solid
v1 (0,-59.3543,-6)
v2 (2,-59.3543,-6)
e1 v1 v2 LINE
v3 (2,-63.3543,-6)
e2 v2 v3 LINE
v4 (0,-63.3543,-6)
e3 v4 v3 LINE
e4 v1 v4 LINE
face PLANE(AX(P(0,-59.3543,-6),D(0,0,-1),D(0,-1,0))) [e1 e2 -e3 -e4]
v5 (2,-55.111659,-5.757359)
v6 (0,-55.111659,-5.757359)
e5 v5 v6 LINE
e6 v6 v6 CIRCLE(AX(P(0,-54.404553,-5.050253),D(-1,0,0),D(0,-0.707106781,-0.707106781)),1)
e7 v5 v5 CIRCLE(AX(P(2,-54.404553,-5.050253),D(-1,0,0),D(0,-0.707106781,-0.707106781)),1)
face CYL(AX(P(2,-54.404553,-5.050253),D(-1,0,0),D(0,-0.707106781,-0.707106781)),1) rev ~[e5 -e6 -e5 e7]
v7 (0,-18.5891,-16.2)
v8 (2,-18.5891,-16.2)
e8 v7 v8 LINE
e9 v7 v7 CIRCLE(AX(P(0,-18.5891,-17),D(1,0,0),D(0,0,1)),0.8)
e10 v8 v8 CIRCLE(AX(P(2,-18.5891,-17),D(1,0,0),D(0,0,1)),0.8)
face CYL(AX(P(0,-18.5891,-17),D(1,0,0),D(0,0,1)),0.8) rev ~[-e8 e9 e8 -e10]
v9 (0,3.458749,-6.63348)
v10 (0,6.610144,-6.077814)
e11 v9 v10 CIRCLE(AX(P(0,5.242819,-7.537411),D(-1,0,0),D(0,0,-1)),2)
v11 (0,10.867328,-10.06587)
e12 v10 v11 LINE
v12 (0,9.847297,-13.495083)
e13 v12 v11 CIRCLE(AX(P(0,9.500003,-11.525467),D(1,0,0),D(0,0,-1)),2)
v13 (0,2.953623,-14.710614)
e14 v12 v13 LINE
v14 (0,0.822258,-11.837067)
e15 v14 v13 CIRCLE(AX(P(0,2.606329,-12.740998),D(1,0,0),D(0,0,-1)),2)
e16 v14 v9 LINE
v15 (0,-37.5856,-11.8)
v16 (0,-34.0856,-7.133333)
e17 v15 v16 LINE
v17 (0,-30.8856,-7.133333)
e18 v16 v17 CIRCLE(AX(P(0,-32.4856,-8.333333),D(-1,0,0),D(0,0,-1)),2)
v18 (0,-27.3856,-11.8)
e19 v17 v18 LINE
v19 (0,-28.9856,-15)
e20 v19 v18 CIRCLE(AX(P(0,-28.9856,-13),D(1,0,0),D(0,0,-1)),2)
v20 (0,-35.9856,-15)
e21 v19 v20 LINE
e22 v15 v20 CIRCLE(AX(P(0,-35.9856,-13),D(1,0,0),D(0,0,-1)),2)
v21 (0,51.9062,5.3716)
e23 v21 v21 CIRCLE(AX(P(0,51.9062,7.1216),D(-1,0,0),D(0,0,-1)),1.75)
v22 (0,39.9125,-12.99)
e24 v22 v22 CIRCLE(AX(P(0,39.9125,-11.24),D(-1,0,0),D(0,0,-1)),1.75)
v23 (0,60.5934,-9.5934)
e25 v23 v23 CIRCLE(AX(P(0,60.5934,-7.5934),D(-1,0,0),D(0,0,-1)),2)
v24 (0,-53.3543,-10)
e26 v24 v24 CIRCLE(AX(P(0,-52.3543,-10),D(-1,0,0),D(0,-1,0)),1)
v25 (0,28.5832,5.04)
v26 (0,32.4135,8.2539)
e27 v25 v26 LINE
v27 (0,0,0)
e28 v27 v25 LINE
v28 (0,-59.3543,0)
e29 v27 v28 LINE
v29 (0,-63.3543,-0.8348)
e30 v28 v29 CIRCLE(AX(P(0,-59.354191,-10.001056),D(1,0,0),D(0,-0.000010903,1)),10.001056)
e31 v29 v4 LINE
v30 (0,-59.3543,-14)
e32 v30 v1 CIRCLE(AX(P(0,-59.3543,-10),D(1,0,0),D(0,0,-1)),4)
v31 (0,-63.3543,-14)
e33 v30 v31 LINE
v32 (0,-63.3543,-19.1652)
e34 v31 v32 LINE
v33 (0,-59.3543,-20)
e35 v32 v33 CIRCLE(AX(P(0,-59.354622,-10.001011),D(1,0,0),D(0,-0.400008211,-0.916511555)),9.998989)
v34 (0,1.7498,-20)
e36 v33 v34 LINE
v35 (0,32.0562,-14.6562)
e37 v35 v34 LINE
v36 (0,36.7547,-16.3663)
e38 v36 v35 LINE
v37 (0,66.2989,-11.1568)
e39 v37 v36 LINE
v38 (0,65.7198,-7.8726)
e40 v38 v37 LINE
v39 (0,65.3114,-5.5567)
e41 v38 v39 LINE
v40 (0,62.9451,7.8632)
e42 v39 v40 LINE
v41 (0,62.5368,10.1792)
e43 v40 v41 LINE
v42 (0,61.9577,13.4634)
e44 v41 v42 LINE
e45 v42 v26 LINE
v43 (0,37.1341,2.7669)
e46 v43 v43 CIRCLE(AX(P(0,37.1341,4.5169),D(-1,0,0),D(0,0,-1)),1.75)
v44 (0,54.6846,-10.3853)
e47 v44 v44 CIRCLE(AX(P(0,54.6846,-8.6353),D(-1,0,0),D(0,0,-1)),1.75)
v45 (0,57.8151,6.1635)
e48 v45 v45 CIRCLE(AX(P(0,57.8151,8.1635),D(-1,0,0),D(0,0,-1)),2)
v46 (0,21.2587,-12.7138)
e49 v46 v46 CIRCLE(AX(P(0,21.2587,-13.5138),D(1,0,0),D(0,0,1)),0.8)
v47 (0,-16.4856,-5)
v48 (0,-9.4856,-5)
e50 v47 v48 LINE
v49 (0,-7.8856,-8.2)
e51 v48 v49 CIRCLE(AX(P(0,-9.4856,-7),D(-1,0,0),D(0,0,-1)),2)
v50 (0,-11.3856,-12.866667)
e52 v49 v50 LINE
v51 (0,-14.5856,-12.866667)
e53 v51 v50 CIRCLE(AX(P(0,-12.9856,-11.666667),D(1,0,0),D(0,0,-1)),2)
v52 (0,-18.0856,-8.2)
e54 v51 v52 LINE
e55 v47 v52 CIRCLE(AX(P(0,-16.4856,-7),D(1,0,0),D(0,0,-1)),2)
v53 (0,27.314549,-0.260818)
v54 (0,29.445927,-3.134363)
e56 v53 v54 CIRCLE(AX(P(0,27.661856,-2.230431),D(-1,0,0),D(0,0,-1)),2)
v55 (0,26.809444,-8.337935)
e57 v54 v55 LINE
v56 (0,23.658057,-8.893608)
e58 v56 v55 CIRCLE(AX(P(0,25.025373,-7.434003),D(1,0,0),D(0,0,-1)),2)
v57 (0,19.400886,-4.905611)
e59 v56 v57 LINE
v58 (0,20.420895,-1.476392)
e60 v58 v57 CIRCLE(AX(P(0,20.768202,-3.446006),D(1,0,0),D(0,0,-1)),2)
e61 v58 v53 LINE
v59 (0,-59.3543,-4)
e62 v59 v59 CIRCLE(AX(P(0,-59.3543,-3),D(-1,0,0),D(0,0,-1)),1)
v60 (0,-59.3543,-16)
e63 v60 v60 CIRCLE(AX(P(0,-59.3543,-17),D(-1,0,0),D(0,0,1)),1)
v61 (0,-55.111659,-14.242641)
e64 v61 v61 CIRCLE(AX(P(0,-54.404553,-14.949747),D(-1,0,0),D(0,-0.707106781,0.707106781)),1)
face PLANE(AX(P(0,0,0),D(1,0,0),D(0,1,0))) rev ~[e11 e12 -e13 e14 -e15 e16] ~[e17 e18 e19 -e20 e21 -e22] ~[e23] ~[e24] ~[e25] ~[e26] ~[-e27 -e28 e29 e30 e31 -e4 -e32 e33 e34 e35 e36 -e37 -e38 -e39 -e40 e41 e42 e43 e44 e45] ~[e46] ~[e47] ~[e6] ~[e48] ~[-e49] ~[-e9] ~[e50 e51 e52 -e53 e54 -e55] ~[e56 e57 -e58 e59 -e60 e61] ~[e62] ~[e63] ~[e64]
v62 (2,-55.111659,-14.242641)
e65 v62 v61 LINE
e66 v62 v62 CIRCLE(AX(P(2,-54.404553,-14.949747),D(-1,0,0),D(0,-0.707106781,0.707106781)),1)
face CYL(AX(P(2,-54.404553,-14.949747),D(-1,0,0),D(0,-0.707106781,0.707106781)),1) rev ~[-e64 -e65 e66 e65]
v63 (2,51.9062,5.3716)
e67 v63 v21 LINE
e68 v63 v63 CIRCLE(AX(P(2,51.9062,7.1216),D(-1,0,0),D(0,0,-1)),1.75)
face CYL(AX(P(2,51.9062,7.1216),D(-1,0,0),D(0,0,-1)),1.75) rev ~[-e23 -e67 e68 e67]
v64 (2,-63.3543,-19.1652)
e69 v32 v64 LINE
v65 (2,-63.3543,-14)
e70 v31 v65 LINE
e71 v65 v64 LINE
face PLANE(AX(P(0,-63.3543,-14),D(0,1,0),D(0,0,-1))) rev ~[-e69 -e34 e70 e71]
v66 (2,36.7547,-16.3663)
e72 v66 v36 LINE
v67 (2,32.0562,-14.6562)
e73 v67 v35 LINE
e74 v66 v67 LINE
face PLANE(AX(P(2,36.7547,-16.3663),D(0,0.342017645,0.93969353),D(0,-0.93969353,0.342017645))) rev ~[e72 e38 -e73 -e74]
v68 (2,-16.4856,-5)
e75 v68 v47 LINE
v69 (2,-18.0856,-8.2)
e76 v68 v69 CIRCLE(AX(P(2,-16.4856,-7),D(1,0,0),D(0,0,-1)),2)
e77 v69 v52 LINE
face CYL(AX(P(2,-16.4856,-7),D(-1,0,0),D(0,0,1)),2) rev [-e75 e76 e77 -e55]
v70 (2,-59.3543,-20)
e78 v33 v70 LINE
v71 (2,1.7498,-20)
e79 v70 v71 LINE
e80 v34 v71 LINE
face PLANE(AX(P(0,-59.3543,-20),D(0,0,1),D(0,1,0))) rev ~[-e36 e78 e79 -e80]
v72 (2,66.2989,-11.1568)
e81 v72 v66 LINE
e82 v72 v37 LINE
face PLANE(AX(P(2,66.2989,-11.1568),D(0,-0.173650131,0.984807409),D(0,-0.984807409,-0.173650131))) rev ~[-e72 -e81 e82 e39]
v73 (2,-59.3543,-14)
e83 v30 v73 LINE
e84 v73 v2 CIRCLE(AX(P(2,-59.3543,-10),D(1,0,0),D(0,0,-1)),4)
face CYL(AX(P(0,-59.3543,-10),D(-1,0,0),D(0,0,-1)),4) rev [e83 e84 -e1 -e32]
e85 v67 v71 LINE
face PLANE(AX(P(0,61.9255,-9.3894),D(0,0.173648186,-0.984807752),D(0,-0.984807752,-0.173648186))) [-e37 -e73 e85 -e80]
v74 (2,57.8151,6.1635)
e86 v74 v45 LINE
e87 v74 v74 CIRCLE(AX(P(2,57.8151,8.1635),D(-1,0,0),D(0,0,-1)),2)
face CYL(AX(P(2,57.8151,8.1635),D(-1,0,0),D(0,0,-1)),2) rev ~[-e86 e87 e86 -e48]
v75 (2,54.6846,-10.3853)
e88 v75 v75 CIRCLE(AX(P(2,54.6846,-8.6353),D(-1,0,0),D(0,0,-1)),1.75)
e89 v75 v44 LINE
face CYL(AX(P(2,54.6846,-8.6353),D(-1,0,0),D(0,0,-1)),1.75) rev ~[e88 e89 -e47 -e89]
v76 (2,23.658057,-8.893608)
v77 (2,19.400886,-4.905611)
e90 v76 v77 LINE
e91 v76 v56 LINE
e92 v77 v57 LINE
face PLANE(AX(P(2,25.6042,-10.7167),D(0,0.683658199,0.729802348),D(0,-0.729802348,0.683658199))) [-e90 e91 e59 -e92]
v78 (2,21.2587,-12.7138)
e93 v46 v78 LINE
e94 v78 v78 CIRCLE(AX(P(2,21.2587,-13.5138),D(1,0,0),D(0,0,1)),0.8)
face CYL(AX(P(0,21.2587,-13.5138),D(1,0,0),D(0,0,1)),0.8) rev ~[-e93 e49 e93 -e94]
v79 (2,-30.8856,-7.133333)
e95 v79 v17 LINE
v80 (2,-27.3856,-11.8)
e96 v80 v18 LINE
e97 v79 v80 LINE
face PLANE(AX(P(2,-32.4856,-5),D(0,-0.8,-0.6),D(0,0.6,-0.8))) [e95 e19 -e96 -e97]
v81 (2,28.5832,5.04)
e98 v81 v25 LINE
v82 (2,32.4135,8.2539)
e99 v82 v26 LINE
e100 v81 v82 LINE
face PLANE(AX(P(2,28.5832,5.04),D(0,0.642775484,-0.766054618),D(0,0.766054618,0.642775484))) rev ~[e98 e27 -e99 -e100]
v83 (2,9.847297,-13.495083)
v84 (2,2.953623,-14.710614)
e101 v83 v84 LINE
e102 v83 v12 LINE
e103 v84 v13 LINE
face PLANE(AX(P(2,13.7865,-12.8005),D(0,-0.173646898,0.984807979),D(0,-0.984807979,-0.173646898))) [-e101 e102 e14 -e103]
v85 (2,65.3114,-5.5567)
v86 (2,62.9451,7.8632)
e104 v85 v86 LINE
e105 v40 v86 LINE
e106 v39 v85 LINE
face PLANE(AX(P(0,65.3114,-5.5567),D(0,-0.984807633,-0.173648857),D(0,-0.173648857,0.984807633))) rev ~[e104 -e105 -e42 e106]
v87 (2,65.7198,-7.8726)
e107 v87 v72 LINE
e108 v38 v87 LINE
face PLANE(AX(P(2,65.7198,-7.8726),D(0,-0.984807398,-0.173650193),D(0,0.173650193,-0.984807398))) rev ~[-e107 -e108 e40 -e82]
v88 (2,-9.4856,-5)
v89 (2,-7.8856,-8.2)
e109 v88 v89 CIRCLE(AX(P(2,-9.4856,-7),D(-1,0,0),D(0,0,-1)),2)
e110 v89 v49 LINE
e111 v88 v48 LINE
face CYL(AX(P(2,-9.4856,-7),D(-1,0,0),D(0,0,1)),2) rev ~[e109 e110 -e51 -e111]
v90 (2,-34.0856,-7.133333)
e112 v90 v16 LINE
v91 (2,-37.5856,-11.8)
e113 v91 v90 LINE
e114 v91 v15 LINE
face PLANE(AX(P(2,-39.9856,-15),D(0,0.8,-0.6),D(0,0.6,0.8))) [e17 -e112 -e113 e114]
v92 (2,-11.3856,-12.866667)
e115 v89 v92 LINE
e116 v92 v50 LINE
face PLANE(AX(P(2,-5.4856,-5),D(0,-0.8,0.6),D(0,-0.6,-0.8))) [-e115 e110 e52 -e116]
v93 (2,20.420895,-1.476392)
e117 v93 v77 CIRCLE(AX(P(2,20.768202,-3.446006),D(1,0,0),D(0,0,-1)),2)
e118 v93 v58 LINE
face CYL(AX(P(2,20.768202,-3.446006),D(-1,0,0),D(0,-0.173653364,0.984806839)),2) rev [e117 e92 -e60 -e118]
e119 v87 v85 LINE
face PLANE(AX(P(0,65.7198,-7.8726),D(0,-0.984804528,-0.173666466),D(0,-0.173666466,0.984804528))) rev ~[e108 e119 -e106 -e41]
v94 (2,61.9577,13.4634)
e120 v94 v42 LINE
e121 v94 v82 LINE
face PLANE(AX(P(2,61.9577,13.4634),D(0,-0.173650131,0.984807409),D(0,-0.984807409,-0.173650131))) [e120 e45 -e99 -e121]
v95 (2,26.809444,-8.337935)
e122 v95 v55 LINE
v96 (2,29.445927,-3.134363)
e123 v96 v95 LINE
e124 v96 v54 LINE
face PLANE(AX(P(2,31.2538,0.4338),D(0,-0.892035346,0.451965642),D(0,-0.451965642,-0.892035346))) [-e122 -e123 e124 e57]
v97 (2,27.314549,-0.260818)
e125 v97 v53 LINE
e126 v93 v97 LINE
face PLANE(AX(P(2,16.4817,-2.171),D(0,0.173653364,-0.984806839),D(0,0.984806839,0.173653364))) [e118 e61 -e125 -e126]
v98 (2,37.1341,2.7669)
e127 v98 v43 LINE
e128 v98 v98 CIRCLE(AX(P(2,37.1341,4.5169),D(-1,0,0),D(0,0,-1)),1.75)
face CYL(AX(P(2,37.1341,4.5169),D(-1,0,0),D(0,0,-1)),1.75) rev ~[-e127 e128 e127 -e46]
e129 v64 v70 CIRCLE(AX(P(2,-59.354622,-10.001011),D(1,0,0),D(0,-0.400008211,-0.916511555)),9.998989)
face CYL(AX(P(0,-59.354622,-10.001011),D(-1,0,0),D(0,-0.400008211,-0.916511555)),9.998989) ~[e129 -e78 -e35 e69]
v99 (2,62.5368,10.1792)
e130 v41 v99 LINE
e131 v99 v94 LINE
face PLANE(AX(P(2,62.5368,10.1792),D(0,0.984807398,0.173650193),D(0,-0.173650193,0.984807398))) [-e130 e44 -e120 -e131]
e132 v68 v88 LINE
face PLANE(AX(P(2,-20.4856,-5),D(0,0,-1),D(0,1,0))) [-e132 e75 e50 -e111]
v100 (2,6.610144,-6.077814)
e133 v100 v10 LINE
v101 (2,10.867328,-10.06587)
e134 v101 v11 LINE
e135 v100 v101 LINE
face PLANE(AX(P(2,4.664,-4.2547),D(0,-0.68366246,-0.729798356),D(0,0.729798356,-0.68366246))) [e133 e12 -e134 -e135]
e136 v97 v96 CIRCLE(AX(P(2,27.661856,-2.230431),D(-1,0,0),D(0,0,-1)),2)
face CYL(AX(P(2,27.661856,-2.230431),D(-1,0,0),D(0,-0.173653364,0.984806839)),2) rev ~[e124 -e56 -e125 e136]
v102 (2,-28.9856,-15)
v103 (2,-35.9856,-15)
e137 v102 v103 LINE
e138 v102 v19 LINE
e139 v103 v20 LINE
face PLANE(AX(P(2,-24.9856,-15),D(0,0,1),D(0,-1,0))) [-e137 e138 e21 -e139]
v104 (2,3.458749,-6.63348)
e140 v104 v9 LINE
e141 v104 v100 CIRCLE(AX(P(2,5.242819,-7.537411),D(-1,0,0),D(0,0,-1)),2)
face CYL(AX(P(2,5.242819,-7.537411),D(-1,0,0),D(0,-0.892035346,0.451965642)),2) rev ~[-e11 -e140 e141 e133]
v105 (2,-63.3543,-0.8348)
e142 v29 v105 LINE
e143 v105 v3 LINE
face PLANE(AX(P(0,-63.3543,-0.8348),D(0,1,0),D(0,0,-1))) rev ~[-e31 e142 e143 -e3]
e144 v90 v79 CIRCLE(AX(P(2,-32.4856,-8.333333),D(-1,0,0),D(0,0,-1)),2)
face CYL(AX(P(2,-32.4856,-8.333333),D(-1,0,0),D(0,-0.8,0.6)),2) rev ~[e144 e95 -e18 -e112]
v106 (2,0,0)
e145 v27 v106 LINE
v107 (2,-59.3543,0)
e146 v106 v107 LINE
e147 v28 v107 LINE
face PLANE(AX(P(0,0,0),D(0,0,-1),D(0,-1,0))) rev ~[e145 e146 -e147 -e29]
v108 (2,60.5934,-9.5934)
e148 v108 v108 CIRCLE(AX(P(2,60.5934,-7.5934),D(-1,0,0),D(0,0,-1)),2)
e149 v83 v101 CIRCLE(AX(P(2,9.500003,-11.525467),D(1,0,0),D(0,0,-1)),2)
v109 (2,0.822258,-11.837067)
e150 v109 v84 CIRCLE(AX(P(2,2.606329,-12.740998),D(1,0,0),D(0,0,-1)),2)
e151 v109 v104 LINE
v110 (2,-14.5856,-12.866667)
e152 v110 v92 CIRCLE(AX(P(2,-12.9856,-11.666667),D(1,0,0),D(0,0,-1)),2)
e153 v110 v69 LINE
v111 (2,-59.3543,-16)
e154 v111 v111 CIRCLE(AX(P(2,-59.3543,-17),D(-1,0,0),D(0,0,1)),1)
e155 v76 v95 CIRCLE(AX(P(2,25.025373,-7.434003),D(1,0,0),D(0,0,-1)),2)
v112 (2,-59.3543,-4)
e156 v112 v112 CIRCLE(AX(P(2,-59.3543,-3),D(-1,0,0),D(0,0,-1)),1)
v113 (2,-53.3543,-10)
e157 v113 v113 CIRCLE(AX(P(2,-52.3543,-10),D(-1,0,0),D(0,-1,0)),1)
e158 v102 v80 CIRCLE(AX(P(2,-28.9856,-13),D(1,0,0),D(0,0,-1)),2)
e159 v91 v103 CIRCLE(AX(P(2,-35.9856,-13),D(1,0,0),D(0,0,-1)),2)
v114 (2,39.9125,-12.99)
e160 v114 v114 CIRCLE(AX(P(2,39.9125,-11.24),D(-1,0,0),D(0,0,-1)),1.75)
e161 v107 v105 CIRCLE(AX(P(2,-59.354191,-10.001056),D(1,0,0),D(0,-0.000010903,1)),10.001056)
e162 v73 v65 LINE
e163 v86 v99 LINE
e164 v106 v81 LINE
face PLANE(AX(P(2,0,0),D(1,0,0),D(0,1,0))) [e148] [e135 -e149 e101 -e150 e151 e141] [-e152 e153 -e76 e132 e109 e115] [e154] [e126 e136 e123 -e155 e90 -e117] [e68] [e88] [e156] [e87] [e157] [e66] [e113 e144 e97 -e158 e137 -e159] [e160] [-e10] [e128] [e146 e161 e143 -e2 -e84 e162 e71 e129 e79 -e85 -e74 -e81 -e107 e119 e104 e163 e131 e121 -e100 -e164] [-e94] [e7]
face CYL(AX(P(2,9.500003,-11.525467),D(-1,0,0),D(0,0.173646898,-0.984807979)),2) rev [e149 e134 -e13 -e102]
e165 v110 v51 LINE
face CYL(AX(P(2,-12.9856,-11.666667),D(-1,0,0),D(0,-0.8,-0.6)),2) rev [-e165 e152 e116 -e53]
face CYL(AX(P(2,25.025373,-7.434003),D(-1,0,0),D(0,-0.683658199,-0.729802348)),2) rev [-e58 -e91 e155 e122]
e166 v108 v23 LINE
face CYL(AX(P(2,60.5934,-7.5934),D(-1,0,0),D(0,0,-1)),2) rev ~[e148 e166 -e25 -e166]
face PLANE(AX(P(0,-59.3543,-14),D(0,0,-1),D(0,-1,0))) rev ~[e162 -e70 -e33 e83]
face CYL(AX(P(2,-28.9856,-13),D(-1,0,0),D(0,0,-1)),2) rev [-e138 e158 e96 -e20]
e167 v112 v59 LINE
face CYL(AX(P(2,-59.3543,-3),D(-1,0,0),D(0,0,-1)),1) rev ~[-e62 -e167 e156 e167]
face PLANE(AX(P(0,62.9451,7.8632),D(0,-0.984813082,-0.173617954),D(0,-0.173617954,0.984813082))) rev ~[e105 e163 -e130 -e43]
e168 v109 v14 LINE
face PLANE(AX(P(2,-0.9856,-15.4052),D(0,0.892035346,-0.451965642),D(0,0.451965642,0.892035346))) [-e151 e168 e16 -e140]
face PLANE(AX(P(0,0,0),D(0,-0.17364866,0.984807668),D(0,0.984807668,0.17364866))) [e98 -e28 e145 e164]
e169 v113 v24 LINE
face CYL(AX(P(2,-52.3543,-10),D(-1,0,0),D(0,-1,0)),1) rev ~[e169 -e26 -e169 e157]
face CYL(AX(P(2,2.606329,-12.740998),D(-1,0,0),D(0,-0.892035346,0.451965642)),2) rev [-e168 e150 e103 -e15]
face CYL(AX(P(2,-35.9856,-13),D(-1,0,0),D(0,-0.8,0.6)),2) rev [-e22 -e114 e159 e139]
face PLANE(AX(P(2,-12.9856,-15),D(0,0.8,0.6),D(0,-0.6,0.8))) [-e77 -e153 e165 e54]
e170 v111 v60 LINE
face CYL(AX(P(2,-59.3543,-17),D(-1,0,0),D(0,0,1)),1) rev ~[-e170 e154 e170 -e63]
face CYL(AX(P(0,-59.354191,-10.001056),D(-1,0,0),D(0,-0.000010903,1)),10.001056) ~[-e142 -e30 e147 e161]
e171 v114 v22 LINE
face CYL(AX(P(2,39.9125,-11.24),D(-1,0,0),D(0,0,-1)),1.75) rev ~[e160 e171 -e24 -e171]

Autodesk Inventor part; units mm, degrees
ref_plane "YZ Plane" through (0, 0, 0) normal (1, 0, 0) x (0, 1, 0)
ref_plane "XZ Plane" through (0, 0, 0) normal (0, 1, 0) x (-1, 0, 0)
ref_plane "XY Plane" through (0, 0, 0) normal (0, 0, 1) x (1, 0, 0)
sketch "スケッチ2" plane through (0, 0, 0) normal (1, 0, 0) x (0, 1, 0)
  line L0 (0, 0) -> (-59.3543, 0)
  line L1 (-59.3543, -20) -> (1.7498, -20)
  line L2 (0, 0) -> (58.4526, 10.3068)
  line L3 (61.9255, -9.3894) -> (1.7498, -20)
  arc A0 (62.5368, 10.1792) -> (58.4526, 10.3068) centre (60.1891, 0.4587) ccw
  arc A1 (61.9255, -9.3894) -> (65.7198, -7.8726) centre (60.1891, 0.4587) ccw
  arc A2 (-63.3543, -19.1652) -> (-59.3543, -20) centre (-59.3543, -10) ccw
  arc A3 (-59.3543, 0) -> (-63.3543, -0.8348) centre (-59.3543, -10) ccw
  arc A4 (-59.3543, -14) -> (-59.3543, -6) centre (-59.3543, -10) ccw
  line L4 (-59.3543, -6) -> (-63.3543, -6)
  line L5 (-59.3543, -14) -> (-63.3543, -14)
  line L6 (-63.3543, -0.8348) -> (-63.3543, -6)
  line L7 (-63.3543, -14) -> (-63.3543, -19.1652)
  line L8 (65.7198, -7.8726) -> (65.3114, -5.5567)
  line L9 (62.9451, 7.8632) -> (62.5368, 10.1792)
  line L10 (1.7498, -20) -> (0, 0)
  line L11 (65.3114, -5.5567) -> (62.9451, 7.8632)
  dimension "d21" = 20
  dimension "d22" = 10
  dimension "d23" = 170
  dimension "d27" = 10
  dimension "d31" = 8
  dimension "d33" = 4
  dimension "d35" = 4
  dimension "d36" = 120
  dimension "d139" = 20
extrude "押し出し1" add sketch "スケッチ2" along normal blind 2
sketch "スケッチ4" plane through (0, 0, 0) normal (-1, 0, 0) x (0, 0, 1)
  line L0 (-20, 1.7498) -> (-9.3894, 61.9255) projected
  line L1 (-20, -59.3543) -> (-20, 1.7498) projected
  circle A0 centre (-17, -18.5891) radius 1
  circle A1 centre (-13.5138, 21.2587) radius 1
  line L2 (-17, -18.5891) -> (-13.5138, 21.2587)
  line L3 (-20, 1.7498) -> (0, 0)
  dimension "d57" = 2
  dimension "d59" = 40
  dimension "d60" = 175
  dimension "d61" = 3
  dimension "d62" = 3
hole "穴2" at (0, -18.5891, -17) at (0, 21.2587, -13.5138) direction (1, 0, 0) diameter 1.6 end through all
sketch "スケッチ6" plane through (2, 0, 0) normal (1, 0, 0) x (0, 0, -1)
  line L0 (20, 1.7498) -> (9.3894, 61.9255) projected
  arc A0 (9.3894, 61.9255) -> (7.8726, 65.7198) centre (-0.4587, 60.1891) ccw projected
  line L1 (7.8726, 65.7198) -> (-10.1792, 62.5368) projected
  arc A1 (-10.1792, 62.5368) -> (-10.3068, 58.4526) centre (-0.4587, 60.1891) ccw projected
  line L2 (-10.3068, 58.4526) -> (0, 0) projected
  line L3 (-5.04, 28.5832) -> (-8.2539, 32.4135)
  line L4 (-10.1792, 62.5368) -> (-13.4634, 61.9577)
  line L5 (-13.4634, 61.9577) -> (-8.2539, 32.4135)
  line L6 (7.8726, 65.7198) -> (11.1568, 66.2989)
  line L7 (11.1568, 66.2989) -> (16.3663, 36.7547)
  line L8 (16.3663, 36.7547) -> (14.6562, 32.0562)
  dimension "d75" = 150
  dimension "d76" = 150
  dimension "d77" = 2.5
  dimension "d78" = 2.5
  dimension "d79" = 30
extrude "押し出し2" add sketch "スケッチ6" against normal blind 2
sketch "スケッチ5" plane through (2, 0, 0) normal (1, 0, 0) x (0, 0, -1)
  line L0 (7.8726, 65.7198) -> (-10.1792, 62.5368) projected
  circle A0 centre (-8.1635, 57.8151) radius 1.5
  circle A1 centre (7.5934, 60.5934) radius 1.5
  line L1 (14.6562, 32.0562) -> (20, 1.7498) projected
  line L2 (20, 1.7498) -> (20, -59.3543) projected
  arc A2 (19.1652, -63.3543) -> (20, -59.3543) centre (10, -59.3543) ccw projected
  line L3 (19.1652, -63.3543) -> (14, -63.3543) projected
  line L4 (14, -63.3543) -> (14, -59.3543) projected
  arc A3 (14, -59.3543) -> (6, -59.3543) centre (10, -59.3543) ccw projected
  line L5 (6, -59.3543) -> (6, -63.3543) projected
  line L6 (6, -63.3543) -> (0.8348, -63.3543) projected
  arc A4 (0, -59.3543) -> (0.8348, -63.3543) centre (10, -59.3543) ccw projected
  line L7 (0, -59.3543) -> (0, 0) projected
  line L8 (0, 0) -> (-5.04, 28.5832) projected
  circle A5 centre (17, -18.5891) radius 0.8 projected
  circle A6 centre (13.5138, 21.2587) radius 0.8 projected
  line L9 (-8.2539, 32.4135) -> (-13.4634, 61.9577) projected
  line L10 (-13.4634, 61.9577) -> (11.1568, 66.2989) projected
  line L11 (11.1568, 66.2989) -> (16.3663, 36.7547) projected
  line L12 (16.3663, 36.7547) -> (14.6562, 32.0562) projected
  line L13 (-5.04, 28.5832) -> (-8.2539, 32.4135) projected
  point P0 (3.5148, 90.434)
  point P1 (-14.537, 87.251)
  point P2 (-10.1792, 62.5368)
  dimension "d72" = 3
  dimension "d114" = 16
  dimension "d174" = 5
  dimension "d175" = 5
  dimension "d176" = 4.5
hole "穴3" at (2, 57.8151, 8.1635) at (2, 60.5934, -7.5934) direction (-1, 0, 0) diameter 4 end through all
sketch "スケッチ7" plane through (2, 0, 0) normal (1, 0, 0) x (0, 0, -1)
  arc A0 (0, -59.3543) -> (0.8348, -63.3543) centre (10, -59.3543) ccw projected
  line L0 (0.8348, -63.3543) -> (6, -63.3543) projected
  circle A1 centre (3, -59.3543) radius 1
  dimension "d89" = 4
  dimension "d90" = 7
  dimension "d91" = 2
hole "穴4" at (2, -59.3543, -3) direction (-1, 0, 0) diameter 2 end through all
pattern_circular "円形状パターン3" count 5 over 180 about axis through (0, -59.3543, -10) along (-1, 0, 0) of "穴4"
sketch "スケッチ8" plane through (2, 0, 0) normal (1, 0, 0) x (0, 0, -1)
  line L0 (11.1568, 66.2989) -> (-13.4634, 61.9577) projected
  line L1 (-13.4634, 61.9577) -> (-8.2539, 32.4135) projected
  circle A0 centre (-7.1216, 51.9062) radius 1.5
  circle A1 centre (8.6353, 54.6846) radius 1.5
  point P0 (7.8726, 65.7198)
  point P1 (-10.1792, 62.5368)
  dimension "d102" = 11
  dimension "d103" = 11
  dimension "d104" = 16
  dimension "d105" = 4.5
  dimension "d106" = 3
hole "穴5" at (2, 51.9062, 7.1216) at (2, 54.6846, -8.6353) direction (-1, 0, 0) diameter 3.5 end through all
sketch "スケッチ11" plane through (2, 0, 0) normal (1, 0, 0) x (0, 0, -1)
  circle A0 centre (-7.1216, 51.9062) radius 1.75 projected
  circle A1 centre (8.6353, 54.6846) radius 1.75 projected
  line L0 (-13.4634, 61.9577) -> (-8.2539, 32.4135) projected
  circle A2 centre (-4.5169, 37.1341) radius 1.5
  circle A3 centre (11.24, 39.9125) radius 1.5
  dimension "d124" = 3
  dimension "d126" = 16
  dimension "d127" = 15
  dimension "d128" = 4.5
  dimension "d130" = 15
hole "穴6" at (2, 37.1341, 4.5169) at (2, 39.9125, -11.24) direction (-1, 0, 0) diameter 3.5 end through all
sketch "スケッチ13" plane through (2, 0, 0) normal (1, 0, 0) x (0, 0, -1)
  line L0 (0, 0) -> (0, -59.3543) projected
  line L1 (20, -59.3543) -> (20, 1.7498) projected
  line L2 (20, 1.7498) -> (14.6562, 32.0562) projected
  line L3 (11.1568, 66.2989) -> (-13.4634, 61.9577) projected
  line L4 (-5.04, 28.5832) -> (0, 0) projected
  line L5 (-0.4338, 31.2538) -> (10.7167, 25.6042)
  line L6 (10.7167, 25.6042) -> (2.171, 16.4817)
  line L7 (2.171, 16.4817) -> (-0.4338, 31.2538)
  line L8 (4.2547, 4.664) -> (12.8005, 13.7865)
  line L9 (12.8005, 13.7865) -> (15.4052, -0.9856)
  line L10 (15.4052, -0.9856) -> (4.2547, 4.664)
  line L11 (5, -5.4856) -> (15, -12.9856)
  line L12 (5, -20.4856) -> (5, -5.4856)
  line L13 (15, -12.9856) -> (5, -20.4856)
  line L14 (5, -32.4856) -> (15, -24.9856)
  line L15 (15, -24.9856) -> (15, -39.9856)
  line L16 (15, -39.9856) -> (5, -32.4856)
  point P0 (9.3894, 61.9255)
  point P1 (7.8726, 65.7198)
  point P2 (-10.1792, 62.5368)
  point P3 (-10.3068, 58.4526)
  dimension "d147" = 5
  dimension "d149" = 5
  dimension "d160" = 5
  dimension "d162" = 40
  dimension "d163" = 52
  dimension "d164" = 12
  dimension "d166" = 5
  dimension "d177" = 10
  dimension "d178" = 15
  dimension "d179" = 12
extrude "押し出し5" cut sketch "スケッチ13" against normal blind 2
fillet "フィレット2" radius 2 12 edges at (1, -24.9856, -15) (1, 13.7865, -12.8005) (1, 31.2538, 0.4338) (1, -5.4856, -5) (1, 4.664, -4.2547) (1, -32.4856, -5) (1, 25.6042, -10.7167) (1, -12.9856, -15) (1, -0.9856, -15.4052) (1, -39.9856, -15) (1, -20.4856, -5) (1, 16.4817, -2.171)
properties part number "Arm_Link_1" material "アルミニウム 6061"
